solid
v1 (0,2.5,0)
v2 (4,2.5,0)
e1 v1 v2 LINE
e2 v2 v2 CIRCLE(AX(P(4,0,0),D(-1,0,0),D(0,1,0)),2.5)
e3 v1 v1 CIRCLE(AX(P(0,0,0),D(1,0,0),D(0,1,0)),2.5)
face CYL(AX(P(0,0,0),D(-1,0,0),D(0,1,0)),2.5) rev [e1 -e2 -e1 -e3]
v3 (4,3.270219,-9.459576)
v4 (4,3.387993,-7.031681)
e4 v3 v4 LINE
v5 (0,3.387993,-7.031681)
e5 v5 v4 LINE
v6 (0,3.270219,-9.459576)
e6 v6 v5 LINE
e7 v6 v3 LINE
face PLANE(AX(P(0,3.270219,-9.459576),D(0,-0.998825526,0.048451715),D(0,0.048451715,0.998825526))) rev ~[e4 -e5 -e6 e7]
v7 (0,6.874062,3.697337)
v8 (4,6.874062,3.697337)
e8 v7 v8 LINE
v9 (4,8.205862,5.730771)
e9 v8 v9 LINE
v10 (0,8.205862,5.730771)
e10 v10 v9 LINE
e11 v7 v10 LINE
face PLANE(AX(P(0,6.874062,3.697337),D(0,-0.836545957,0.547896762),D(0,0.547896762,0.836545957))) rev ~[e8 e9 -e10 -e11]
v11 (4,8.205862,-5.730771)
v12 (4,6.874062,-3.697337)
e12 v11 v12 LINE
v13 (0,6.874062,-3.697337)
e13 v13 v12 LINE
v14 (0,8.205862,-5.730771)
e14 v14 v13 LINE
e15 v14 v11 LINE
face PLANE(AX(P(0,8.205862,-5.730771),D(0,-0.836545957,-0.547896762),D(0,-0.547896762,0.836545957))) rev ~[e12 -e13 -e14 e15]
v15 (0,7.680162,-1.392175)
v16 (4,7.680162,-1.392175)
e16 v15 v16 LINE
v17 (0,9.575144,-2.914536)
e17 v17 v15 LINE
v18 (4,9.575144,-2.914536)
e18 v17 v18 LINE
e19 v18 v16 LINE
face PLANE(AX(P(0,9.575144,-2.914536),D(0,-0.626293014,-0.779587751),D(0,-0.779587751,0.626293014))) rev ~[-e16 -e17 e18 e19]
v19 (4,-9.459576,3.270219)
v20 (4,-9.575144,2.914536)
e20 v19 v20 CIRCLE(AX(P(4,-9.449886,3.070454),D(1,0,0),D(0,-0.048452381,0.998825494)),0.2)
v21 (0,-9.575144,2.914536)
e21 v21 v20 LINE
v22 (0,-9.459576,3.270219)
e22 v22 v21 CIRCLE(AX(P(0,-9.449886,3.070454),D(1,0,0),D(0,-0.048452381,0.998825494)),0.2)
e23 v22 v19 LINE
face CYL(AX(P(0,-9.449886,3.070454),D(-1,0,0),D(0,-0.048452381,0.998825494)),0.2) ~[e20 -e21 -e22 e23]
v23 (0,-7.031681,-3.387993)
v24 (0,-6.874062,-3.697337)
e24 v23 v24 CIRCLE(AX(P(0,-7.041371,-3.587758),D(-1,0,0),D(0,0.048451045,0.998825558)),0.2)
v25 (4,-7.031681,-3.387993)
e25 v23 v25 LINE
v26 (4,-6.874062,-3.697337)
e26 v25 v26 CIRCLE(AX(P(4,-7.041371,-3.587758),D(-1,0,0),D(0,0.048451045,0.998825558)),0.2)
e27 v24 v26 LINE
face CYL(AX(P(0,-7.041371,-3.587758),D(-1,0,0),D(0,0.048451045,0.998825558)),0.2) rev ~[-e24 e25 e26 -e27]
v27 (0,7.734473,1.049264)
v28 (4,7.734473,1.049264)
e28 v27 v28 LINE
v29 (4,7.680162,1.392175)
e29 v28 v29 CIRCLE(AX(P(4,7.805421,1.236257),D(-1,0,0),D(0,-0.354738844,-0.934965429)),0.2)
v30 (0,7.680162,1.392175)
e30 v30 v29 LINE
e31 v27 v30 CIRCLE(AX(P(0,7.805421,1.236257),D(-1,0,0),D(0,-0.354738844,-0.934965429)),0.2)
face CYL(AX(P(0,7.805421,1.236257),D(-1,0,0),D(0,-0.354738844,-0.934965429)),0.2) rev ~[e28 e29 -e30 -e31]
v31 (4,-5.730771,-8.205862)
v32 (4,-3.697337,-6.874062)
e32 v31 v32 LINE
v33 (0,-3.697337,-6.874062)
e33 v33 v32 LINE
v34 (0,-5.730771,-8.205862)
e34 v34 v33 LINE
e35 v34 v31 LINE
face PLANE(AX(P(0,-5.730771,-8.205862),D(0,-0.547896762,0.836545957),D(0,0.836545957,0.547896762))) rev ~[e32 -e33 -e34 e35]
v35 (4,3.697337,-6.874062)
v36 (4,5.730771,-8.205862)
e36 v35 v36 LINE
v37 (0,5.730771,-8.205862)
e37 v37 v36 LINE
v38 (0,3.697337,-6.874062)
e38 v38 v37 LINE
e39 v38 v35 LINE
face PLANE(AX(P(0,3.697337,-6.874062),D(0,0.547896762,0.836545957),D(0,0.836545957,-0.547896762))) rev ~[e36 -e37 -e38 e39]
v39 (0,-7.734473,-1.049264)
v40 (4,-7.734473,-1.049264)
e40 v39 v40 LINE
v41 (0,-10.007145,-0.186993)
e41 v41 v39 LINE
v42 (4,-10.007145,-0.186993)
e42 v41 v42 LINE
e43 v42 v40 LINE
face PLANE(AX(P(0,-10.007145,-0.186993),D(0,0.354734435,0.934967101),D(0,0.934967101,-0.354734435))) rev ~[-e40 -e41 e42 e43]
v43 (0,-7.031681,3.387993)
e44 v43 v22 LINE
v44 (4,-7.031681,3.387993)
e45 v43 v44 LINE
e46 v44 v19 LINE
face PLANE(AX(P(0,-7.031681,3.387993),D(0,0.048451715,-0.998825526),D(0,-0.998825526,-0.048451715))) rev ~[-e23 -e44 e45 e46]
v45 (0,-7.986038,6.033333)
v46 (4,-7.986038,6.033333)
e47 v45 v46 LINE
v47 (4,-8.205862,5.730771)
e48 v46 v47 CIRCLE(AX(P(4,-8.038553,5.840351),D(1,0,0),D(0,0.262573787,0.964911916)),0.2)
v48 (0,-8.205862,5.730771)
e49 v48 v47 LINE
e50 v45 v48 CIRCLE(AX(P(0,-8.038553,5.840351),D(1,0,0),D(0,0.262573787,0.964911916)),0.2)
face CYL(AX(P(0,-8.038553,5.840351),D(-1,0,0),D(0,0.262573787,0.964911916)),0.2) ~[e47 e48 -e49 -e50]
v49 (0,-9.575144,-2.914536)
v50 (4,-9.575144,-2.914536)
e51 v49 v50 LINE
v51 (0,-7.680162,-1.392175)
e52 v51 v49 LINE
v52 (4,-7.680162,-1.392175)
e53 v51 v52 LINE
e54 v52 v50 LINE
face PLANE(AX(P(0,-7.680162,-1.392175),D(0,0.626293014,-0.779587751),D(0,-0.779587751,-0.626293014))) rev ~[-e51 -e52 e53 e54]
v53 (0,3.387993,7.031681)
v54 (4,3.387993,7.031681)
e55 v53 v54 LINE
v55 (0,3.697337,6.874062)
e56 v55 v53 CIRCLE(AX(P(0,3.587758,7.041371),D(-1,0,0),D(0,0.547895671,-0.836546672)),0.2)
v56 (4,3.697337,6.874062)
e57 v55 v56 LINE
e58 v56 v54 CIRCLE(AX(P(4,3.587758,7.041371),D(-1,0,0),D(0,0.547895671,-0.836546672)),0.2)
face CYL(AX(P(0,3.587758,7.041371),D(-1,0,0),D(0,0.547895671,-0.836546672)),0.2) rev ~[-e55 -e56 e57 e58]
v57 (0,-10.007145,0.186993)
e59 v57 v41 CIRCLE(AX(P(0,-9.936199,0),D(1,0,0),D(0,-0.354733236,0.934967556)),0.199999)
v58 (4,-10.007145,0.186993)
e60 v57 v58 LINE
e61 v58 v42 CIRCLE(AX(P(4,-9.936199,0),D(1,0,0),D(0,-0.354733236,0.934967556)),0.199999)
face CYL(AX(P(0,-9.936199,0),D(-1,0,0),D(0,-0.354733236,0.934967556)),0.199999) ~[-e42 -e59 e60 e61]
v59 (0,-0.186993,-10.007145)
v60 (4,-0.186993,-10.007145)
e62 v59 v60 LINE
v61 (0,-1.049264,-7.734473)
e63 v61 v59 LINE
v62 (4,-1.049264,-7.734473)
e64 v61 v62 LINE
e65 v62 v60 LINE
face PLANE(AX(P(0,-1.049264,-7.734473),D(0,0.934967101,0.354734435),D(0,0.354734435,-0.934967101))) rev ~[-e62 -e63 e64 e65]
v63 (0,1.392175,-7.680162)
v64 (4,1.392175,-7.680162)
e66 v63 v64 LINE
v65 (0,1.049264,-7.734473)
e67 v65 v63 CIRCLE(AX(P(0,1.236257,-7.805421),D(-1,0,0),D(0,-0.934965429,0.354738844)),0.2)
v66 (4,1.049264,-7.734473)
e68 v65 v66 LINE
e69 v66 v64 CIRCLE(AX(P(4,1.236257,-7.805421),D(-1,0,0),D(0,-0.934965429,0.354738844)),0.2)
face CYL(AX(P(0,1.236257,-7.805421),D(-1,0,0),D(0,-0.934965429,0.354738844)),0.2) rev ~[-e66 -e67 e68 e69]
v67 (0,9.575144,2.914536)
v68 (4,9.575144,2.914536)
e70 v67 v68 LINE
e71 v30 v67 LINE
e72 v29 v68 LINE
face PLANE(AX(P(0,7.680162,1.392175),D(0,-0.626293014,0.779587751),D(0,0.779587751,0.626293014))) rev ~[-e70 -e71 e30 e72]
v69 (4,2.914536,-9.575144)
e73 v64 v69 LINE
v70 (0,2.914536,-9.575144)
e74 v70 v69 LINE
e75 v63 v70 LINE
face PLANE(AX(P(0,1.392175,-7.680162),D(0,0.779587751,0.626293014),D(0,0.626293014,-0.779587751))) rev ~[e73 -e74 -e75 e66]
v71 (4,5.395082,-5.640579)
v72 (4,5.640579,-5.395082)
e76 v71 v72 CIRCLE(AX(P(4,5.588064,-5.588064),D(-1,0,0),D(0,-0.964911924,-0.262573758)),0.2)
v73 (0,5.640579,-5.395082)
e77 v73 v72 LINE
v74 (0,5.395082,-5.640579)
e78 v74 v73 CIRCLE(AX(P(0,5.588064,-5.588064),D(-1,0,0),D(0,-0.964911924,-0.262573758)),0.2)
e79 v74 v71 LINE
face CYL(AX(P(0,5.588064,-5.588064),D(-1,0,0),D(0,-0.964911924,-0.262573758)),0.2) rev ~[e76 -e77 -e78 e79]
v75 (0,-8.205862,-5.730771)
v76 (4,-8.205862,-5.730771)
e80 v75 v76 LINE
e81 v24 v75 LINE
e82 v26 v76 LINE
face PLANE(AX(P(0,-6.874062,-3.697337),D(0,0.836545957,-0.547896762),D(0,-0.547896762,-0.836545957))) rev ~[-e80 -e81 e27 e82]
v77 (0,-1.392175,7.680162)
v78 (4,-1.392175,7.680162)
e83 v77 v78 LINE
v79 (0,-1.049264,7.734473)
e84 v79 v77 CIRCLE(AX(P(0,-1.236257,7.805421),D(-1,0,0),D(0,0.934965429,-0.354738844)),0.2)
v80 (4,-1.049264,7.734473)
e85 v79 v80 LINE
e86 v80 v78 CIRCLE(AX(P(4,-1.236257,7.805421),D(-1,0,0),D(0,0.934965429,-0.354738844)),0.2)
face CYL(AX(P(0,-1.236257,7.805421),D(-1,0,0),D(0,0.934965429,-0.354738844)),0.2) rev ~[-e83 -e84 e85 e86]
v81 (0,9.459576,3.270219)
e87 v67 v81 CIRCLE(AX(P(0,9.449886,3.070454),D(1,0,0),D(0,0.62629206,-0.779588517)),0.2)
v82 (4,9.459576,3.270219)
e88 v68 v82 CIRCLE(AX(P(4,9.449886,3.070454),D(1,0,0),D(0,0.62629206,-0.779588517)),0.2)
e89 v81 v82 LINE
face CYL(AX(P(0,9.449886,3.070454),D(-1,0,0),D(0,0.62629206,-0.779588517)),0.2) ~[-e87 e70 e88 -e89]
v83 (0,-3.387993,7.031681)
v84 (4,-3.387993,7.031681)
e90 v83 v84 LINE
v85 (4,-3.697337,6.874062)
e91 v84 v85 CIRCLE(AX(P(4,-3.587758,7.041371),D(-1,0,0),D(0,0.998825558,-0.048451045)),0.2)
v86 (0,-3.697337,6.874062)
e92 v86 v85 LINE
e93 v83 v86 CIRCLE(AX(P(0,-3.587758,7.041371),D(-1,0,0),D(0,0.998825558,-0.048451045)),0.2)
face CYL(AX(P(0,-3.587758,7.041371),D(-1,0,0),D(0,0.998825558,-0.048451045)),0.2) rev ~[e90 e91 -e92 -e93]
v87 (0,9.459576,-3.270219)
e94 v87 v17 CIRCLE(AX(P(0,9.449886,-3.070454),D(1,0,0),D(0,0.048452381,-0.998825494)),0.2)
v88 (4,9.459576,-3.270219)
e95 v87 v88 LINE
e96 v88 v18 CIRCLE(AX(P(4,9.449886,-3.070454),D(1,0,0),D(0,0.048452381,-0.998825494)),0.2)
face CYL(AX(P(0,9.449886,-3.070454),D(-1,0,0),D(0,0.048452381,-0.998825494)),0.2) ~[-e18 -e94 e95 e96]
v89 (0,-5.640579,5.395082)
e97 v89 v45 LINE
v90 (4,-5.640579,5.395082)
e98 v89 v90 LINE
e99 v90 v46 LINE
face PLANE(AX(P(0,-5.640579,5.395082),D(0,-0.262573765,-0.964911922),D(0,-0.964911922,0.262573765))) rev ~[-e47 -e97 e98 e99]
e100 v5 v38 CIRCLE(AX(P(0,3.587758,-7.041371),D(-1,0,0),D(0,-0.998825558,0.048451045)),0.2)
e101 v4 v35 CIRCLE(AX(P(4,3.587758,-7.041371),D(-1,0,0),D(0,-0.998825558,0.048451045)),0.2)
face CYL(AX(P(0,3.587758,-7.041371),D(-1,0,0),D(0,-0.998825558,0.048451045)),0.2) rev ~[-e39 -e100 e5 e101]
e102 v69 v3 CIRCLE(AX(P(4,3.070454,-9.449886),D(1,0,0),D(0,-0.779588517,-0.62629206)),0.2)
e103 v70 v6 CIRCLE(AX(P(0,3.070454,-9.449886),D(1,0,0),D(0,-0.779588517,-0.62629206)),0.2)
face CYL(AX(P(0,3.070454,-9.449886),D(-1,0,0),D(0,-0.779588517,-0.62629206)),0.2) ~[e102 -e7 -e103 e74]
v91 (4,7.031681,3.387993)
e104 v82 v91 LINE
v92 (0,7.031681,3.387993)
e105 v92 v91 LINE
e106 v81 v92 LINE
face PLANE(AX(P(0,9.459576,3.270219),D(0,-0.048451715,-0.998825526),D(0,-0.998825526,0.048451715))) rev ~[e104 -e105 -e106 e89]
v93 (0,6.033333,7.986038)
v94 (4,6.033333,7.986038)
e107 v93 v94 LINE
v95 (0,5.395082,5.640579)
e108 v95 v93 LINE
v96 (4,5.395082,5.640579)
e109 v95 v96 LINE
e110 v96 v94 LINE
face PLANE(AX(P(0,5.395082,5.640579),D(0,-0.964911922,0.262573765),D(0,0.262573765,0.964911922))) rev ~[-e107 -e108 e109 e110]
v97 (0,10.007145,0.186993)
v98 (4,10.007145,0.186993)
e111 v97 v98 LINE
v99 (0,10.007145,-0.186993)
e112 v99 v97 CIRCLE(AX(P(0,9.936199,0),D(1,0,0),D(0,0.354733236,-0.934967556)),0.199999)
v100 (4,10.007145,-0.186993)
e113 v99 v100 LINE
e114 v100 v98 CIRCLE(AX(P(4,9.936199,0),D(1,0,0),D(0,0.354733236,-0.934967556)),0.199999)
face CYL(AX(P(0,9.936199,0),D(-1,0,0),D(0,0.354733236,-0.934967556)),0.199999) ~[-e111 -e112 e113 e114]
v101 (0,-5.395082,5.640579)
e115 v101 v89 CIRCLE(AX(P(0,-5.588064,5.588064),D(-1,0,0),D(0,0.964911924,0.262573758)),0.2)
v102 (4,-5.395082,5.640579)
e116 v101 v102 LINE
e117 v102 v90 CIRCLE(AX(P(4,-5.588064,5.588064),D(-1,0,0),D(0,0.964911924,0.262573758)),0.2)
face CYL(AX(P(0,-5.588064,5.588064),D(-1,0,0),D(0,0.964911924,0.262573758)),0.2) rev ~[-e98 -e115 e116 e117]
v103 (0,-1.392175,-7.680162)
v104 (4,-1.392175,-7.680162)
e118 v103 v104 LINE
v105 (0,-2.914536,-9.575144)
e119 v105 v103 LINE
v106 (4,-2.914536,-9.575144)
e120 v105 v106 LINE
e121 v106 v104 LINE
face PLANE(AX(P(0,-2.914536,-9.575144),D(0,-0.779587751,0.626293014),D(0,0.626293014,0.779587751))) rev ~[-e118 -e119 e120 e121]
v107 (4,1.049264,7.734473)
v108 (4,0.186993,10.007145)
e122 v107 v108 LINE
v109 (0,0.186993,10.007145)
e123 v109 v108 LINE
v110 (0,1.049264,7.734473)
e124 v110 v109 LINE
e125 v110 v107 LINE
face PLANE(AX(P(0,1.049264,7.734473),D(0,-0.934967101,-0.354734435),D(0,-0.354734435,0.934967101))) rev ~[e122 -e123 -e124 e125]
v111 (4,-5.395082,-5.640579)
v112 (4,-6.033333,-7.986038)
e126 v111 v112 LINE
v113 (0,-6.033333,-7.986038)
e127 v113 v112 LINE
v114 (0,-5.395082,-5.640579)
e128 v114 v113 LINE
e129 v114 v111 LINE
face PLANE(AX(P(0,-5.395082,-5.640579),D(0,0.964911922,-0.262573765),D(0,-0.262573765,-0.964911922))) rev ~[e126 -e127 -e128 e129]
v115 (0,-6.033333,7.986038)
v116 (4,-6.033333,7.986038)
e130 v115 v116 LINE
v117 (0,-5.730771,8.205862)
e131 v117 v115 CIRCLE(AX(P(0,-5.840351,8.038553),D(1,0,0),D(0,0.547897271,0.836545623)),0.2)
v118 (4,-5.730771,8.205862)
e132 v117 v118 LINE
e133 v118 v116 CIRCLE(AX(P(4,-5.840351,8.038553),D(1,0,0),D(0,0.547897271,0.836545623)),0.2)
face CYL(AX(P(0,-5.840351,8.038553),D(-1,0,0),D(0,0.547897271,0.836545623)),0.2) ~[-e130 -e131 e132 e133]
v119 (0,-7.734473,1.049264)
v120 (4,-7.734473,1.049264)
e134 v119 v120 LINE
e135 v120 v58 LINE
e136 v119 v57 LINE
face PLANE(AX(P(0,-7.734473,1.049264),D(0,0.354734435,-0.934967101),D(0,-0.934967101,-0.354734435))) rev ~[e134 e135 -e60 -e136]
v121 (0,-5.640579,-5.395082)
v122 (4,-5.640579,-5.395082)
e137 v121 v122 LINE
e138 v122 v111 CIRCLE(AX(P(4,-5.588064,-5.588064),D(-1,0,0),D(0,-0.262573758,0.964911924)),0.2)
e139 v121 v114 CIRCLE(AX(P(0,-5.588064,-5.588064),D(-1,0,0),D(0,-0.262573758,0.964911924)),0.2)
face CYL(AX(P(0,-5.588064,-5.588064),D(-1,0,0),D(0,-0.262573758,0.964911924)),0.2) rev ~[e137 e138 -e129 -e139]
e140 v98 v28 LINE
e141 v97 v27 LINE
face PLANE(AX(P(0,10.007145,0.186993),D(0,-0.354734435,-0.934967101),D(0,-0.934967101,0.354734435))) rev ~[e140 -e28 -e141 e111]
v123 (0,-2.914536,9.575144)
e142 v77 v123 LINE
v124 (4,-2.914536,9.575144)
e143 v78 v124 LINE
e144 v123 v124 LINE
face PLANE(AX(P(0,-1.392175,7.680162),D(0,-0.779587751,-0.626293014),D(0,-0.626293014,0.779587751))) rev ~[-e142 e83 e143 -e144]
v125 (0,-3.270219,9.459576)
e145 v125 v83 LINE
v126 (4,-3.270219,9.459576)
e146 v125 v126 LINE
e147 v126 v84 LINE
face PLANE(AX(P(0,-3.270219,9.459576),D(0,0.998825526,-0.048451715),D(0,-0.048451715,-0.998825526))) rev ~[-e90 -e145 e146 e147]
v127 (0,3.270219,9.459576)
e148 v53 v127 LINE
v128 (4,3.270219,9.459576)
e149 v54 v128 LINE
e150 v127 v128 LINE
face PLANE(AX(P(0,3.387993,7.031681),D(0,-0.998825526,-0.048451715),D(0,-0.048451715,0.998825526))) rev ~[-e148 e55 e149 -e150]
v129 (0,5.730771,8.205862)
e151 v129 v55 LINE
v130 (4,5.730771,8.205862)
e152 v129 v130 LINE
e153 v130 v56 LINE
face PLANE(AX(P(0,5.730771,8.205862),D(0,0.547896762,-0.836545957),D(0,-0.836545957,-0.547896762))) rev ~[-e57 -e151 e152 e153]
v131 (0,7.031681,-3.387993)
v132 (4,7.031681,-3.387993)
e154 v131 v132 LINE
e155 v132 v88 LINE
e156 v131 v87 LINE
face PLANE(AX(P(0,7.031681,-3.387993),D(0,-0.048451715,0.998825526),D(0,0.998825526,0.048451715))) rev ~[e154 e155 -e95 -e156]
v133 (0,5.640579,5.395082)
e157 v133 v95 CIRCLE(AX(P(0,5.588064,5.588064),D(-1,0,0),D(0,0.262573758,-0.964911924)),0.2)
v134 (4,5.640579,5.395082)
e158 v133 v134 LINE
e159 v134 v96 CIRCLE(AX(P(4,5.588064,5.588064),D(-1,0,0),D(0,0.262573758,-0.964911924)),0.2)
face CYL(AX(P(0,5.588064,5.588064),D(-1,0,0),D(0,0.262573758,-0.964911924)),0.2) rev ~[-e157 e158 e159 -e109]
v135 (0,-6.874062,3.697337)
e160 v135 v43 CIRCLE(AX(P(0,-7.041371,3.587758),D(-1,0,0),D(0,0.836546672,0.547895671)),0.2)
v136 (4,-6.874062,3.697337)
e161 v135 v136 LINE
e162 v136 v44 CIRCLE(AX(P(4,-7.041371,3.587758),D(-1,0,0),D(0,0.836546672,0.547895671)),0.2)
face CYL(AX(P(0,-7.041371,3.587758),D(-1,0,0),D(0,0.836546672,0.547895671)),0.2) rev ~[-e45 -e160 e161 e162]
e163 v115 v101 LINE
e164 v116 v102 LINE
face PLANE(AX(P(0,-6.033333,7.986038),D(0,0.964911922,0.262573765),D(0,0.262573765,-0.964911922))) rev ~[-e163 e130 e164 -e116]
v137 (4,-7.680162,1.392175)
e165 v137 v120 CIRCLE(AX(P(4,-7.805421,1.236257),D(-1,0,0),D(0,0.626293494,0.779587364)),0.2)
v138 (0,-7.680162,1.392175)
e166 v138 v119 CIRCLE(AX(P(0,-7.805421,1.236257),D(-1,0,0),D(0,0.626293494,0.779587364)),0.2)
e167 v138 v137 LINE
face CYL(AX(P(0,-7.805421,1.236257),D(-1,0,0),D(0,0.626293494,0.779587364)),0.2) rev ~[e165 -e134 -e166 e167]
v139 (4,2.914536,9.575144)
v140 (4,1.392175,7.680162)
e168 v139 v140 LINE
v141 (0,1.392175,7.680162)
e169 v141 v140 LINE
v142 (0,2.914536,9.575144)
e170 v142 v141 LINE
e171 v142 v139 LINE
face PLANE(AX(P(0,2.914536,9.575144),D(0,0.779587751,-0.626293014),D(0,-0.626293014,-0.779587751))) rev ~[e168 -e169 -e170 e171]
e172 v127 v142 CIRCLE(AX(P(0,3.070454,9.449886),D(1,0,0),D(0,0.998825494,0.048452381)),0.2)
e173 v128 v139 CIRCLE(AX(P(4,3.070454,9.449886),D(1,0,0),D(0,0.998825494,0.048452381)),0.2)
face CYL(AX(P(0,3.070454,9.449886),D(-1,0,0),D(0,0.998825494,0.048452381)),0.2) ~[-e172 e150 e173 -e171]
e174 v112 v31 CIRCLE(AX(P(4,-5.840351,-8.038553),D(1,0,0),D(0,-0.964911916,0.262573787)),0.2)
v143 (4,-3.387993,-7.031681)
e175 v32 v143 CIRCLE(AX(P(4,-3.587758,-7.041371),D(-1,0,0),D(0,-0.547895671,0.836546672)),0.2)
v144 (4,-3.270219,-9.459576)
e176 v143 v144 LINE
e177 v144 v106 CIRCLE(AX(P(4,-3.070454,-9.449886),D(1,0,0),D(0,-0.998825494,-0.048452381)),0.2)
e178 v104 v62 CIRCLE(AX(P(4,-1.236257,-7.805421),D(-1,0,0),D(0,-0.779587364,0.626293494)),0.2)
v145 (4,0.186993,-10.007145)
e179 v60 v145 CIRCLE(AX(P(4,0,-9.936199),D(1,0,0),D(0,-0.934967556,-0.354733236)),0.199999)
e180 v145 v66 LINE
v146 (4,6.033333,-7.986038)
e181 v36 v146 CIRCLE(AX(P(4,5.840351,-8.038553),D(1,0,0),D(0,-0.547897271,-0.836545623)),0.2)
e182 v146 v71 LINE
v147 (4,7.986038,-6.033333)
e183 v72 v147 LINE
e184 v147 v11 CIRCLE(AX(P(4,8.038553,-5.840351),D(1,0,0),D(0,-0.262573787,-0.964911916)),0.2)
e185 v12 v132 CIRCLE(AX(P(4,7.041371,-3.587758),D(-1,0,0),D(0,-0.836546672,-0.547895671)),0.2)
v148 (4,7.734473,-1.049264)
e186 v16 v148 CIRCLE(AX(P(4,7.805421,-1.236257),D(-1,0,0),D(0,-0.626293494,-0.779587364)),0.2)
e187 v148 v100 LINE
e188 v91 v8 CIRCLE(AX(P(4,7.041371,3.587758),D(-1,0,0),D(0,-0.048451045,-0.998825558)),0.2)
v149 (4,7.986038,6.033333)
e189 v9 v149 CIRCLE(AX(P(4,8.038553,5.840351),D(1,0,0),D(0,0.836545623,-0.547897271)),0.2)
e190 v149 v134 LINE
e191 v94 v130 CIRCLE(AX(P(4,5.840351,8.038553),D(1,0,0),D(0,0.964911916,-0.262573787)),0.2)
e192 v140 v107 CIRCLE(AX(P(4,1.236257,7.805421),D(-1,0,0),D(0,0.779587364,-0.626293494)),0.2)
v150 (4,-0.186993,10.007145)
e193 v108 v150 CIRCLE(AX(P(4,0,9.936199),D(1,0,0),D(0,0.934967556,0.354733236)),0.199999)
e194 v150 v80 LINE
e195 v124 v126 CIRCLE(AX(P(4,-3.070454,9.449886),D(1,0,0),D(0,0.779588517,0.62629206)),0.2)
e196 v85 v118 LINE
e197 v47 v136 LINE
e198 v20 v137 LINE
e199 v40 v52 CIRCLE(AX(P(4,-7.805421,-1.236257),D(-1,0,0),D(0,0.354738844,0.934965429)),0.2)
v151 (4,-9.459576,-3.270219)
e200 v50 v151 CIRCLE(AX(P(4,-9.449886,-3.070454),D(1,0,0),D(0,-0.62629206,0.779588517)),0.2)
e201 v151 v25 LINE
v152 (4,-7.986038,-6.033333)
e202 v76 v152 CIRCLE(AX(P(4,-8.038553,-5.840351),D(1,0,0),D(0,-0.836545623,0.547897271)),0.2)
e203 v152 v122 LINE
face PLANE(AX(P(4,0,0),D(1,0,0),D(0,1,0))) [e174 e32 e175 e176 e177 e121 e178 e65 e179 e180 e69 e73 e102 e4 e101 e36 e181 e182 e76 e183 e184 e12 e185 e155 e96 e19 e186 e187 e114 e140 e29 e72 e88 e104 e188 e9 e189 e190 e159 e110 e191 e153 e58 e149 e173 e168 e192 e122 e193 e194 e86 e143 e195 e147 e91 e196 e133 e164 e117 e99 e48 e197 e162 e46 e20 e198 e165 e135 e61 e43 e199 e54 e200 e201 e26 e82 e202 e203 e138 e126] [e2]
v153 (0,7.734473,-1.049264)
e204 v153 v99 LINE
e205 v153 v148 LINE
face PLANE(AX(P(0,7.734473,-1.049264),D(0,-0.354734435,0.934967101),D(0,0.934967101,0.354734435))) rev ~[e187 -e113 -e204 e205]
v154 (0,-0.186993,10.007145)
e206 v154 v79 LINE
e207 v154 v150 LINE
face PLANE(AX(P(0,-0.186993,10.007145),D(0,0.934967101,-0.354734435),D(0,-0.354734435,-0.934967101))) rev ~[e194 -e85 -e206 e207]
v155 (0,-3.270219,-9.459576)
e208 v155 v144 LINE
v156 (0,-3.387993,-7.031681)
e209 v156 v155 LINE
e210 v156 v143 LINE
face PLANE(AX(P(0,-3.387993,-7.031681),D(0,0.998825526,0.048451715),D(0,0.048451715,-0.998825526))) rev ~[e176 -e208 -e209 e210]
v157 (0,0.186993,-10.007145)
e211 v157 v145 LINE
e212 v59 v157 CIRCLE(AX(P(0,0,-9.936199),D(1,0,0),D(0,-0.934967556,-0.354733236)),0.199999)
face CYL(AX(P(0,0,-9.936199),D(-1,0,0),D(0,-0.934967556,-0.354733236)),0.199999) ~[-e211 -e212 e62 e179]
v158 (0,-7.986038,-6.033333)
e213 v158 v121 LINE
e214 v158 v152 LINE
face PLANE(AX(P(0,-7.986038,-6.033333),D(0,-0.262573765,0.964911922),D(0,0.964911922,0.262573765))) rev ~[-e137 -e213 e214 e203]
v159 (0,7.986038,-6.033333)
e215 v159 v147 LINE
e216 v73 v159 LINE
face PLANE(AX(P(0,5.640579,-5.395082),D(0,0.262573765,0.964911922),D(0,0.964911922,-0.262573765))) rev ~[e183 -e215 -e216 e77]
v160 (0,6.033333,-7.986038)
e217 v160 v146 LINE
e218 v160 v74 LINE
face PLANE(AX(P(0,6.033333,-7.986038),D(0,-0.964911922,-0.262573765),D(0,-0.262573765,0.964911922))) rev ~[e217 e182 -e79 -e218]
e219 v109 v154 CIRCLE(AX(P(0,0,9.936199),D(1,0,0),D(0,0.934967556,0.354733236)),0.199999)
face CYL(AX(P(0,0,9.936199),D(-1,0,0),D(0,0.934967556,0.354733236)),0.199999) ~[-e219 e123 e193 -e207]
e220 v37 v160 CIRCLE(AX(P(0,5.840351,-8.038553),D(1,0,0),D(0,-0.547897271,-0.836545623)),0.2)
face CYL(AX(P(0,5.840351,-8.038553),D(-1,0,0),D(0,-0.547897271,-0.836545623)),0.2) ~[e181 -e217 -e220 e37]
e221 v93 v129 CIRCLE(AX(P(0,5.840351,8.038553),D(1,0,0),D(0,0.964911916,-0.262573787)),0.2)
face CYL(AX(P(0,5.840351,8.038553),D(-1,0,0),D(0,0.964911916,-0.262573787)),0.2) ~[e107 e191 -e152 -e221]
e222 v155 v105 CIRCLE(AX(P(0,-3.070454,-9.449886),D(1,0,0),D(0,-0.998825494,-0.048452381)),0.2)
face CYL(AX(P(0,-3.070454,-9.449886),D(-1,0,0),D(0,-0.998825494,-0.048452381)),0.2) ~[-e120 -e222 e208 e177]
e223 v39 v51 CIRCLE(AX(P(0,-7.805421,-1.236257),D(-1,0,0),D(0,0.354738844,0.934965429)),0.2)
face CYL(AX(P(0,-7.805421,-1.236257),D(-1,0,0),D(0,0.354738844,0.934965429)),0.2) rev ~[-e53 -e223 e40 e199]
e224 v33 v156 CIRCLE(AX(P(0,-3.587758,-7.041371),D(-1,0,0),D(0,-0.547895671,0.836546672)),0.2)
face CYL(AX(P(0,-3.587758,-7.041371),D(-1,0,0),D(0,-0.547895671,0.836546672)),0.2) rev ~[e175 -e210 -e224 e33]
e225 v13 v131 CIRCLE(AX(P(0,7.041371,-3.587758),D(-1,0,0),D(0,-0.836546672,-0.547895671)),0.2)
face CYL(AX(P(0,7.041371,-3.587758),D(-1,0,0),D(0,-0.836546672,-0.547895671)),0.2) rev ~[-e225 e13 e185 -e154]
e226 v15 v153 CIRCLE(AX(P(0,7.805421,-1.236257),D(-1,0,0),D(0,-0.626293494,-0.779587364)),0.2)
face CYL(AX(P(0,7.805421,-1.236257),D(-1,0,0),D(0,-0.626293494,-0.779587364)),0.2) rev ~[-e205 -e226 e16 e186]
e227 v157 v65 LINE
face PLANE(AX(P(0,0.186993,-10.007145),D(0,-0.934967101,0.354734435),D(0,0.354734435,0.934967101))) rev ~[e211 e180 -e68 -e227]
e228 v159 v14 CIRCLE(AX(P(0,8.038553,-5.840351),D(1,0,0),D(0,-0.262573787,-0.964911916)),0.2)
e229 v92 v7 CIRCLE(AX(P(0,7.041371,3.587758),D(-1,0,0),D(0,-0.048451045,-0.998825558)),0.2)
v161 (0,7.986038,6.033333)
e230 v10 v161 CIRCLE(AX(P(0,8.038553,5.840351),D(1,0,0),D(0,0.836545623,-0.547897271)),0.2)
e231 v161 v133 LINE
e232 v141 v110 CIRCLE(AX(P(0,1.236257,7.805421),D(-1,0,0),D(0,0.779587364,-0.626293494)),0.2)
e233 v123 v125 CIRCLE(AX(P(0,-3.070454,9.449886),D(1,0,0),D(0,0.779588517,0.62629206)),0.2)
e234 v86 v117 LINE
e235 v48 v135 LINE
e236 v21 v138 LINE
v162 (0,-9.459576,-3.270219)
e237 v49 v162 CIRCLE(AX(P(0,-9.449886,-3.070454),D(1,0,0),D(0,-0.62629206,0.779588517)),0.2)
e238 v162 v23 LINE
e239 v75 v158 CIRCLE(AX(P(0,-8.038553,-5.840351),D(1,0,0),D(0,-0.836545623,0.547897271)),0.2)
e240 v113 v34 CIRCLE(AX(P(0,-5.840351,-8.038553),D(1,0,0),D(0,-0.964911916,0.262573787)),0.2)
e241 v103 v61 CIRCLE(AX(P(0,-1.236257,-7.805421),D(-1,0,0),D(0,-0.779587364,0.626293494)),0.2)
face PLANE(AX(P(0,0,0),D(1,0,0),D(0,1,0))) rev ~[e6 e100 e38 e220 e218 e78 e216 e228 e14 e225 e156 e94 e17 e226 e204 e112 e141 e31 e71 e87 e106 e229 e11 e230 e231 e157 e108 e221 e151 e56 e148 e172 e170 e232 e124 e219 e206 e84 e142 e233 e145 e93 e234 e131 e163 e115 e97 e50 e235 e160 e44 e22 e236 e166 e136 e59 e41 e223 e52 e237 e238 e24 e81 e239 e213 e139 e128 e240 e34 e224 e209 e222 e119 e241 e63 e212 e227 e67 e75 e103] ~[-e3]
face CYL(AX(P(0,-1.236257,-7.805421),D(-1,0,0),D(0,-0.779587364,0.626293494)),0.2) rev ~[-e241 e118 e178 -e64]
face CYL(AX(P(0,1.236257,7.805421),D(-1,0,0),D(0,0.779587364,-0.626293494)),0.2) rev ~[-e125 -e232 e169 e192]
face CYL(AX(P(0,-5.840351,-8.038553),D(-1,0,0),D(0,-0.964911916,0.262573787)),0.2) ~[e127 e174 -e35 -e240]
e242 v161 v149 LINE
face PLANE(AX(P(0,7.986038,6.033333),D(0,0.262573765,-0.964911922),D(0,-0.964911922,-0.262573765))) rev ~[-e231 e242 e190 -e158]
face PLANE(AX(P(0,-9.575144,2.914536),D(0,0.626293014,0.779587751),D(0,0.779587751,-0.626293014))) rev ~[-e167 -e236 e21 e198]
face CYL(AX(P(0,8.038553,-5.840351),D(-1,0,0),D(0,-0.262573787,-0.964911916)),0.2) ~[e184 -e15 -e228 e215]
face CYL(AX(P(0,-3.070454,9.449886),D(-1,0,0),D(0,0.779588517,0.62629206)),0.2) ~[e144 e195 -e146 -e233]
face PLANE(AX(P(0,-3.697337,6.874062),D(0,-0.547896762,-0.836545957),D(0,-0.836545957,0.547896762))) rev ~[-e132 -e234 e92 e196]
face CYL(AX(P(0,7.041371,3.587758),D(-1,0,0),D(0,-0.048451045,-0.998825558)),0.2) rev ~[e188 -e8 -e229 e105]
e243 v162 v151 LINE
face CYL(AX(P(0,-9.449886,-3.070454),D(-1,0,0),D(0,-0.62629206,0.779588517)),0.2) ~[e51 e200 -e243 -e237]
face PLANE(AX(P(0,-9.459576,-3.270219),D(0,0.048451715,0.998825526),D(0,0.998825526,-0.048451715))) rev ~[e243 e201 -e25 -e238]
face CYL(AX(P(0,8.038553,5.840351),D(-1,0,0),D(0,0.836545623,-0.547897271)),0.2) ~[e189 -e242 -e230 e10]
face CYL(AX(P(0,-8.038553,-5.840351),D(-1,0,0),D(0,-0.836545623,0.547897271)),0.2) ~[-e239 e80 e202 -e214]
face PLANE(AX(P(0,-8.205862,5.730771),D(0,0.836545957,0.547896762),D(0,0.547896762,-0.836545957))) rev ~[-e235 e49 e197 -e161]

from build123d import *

# Parameters (mm, degrees)
F1_DEPTH = 4
F2_R     = 2.5
F3_DEPTH = 4.001


with BuildPart() as f1:
    # F0 (on Right) → F1 (new body)
    with BuildSketch(Plane.YZ):
        with BuildLine():
            ThreePointArc((0.186993, 10.007145), (0, 10.136198), (-0.186993, 10.007145))
            Line((-0.186993, 10.007145), (-1.049264, 7.734473))
            ThreePointArc((-1.049264, 7.734473), (-1.20497, 7.607883), (-1.392175, 7.680162))
            Line((-1.392175, 7.680162), (-2.914536, 9.575144))
            ThreePointArc((-2.914536, 9.575144), (-3.132257, 9.640097), (-3.270219, 9.459576))
            Line((-3.270219, 9.459576), (-3.387993, 7.031681))
            ThreePointArc((-3.387993, 7.031681), (-3.49696, 6.86317), (-3.697337, 6.874062))
            Line((-3.697337, 6.874062), (-5.730771, 8.205862))
            ThreePointArc((-5.730771, 8.205862), (-5.957908, 8.200356), (-6.033333, 7.986038))
            Line((-6.033333, 7.986038), (-5.395082, 5.640579))
            ThreePointArc((-5.395082, 5.640579), (-5.446643, 5.446643), (-5.640579, 5.395082))
            Line((-5.640579, 5.395082), (-7.986038, 6.033333))
            ThreePointArc((-7.986038, 6.033333), (-8.200356, 5.957908), (-8.205862, 5.730771))
            Line((-8.205862, 5.730771), (-6.874062, 3.697337))
            ThreePointArc((-6.874062, 3.697337), (-6.86317, 3.49696), (-7.031681, 3.387993))
            Line((-7.031681, 3.387993), (-9.459576, 3.270219))
            ThreePointArc((-9.459576, 3.270219), (-9.640097, 3.132257), (-9.575144, 2.914536))
            Line((-9.575144, 2.914536), (-7.680162, 1.392175))
            ThreePointArc((-7.680162, 1.392175), (-7.607883, 1.20497), (-7.734473, 1.049264))
            Line((-7.734473, 1.049264), (-10.007145, 0.186993))
            ThreePointArc((-10.007145, 0.186993), (-10.136198, 0), (-10.007145, -0.186993))
            Line((-10.007145, -0.186993), (-7.734473, -1.049264))
            ThreePointArc((-7.734473, -1.049264), (-7.607883, -1.20497), (-7.680162, -1.392175))
            Line((-7.680162, -1.392175), (-9.575144, -2.914536))
            ThreePointArc((-9.575144, -2.914536), (-9.640097, -3.132257), (-9.459576, -3.270219))
            Line((-9.459576, -3.270219), (-7.031681, -3.387993))
            ThreePointArc((-7.031681, -3.387993), (-6.86317, -3.49696), (-6.874062, -3.697337))
            Line((-6.874062, -3.697337), (-8.205862, -5.730771))
            ThreePointArc((-8.205862, -5.730771), (-8.200356, -5.957908), (-7.986038, -6.033333))
            Line((-7.986038, -6.033333), (-5.640579, -5.395082))
            ThreePointArc((-5.640579, -5.395082), (-5.446643, -5.446643), (-5.395082, -5.640579))
            Line((-5.395082, -5.640579), (-6.033333, -7.986038))
            ThreePointArc((-6.033333, -7.986038), (-5.957908, -8.200356), (-5.730771, -8.205862))
            Line((-5.730771, -8.205862), (-3.697337, -6.874062))
            ThreePointArc((-3.697337, -6.874062), (-3.49696, -6.86317), (-3.387993, -7.031681))
            Line((-3.387993, -7.031681), (-3.270219, -9.459576))
            ThreePointArc((-3.270219, -9.459576), (-3.132257, -9.640097), (-2.914536, -9.575144))
            Line((-2.914536, -9.575144), (-1.392175, -7.680162))
            ThreePointArc((-1.392175, -7.680162), (-1.20497, -7.607883), (-1.049264, -7.734473))
            Line((-1.049264, -7.734473), (-0.186993, -10.007145))
            ThreePointArc((-0.186993, -10.007145), (0, -10.136198), (0.186993, -10.007145))
            Line((0.186993, -10.007145), (1.049264, -7.734473))
            ThreePointArc((1.049264, -7.734473), (1.20497, -7.607883), (1.392175, -7.680162))
            Line((1.392175, -7.680162), (2.914536, -9.575144))
            ThreePointArc((2.914536, -9.575144), (3.132257, -9.640097), (3.270219, -9.459576))
            Line((3.270219, -9.459576), (3.387993, -7.031681))
            ThreePointArc((3.387993, -7.031681), (3.49696, -6.86317), (3.697337, -6.874062))
            Line((3.697337, -6.874062), (5.730771, -8.205862))
            ThreePointArc((5.730771, -8.205862), (5.957908, -8.200356), (6.033333, -7.986038))
            Line((6.033333, -7.986038), (5.395082, -5.640579))
            ThreePointArc((5.395082, -5.640579), (5.446643, -5.446643), (5.640579, -5.395082))
            Line((5.640579, -5.395082), (7.986038, -6.033333))
            ThreePointArc((7.986038, -6.033333), (8.200356, -5.957908), (8.205862, -5.730771))
            Line((8.205862, -5.730771), (6.874062, -3.697337))
            ThreePointArc((6.874062, -3.697337), (6.86317, -3.49696), (7.031681, -3.387993))
            Line((7.031681, -3.387993), (9.459576, -3.270219))
            ThreePointArc((9.459576, -3.270219), (9.640097, -3.132257), (9.575144, -2.914536))
            Line((9.575144, -2.914536), (7.680162, -1.392175))
            ThreePointArc((7.680162, -1.392175), (7.607883, -1.20497), (7.734473, -1.049264))
            Line((7.734473, -1.049264), (10.007145, -0.186993))
            ThreePointArc((10.007145, -0.186993), (10.136198, 0), (10.007145, 0.186993))
            Line((10.007145, 0.186993), (7.734473, 1.049264))
            ThreePointArc((7.734473, 1.049264), (7.607883, 1.20497), (7.680162, 1.392175))
            Line((7.680162, 1.392175), (9.575144, 2.914536))
            ThreePointArc((9.575144, 2.914536), (9.640097, 3.132257), (9.459576, 3.270219))
            Line((9.459576, 3.270219), (7.031681, 3.387993))
            ThreePointArc((7.031681, 3.387993), (6.86317, 3.49696), (6.874062, 3.697337))
            Line((6.874062, 3.697337), (8.205862, 5.730771))
            ThreePointArc((8.205862, 5.730771), (8.200356, 5.957908), (7.986038, 6.033333))
            Line((7.986038, 6.033333), (5.640579, 5.395082))
            ThreePointArc((5.640579, 5.395082), (5.446643, 5.446643), (5.395082, 5.640579))
            Line((5.395082, 5.640579), (6.033333, 7.986038))
            ThreePointArc((6.033333, 7.986038), (5.957908, 8.200356), (5.730771, 8.205862))
            Line((5.730771, 8.205862), (3.697337, 6.874062))
            ThreePointArc((3.697337, 6.874062), (3.49696, 6.86317), (3.387993, 7.031681))
            Line((3.387993, 7.031681), (3.270219, 9.459576))
            ThreePointArc((3.270219, 9.459576), (3.132257, 9.640097), (2.914536, 9.575144))
            Line((2.914536, 9.575144), (1.392175, 7.680162))
            ThreePointArc((1.392175, 7.680162), (1.20497, 7.607883), (1.049264, 7.734473))
            Line((1.049264, 7.734473), (0.186993, 10.007145))
        make_face()
    extrude(amount=F1_DEPTH)

    # F2 (on Right) → F3 (cut, through all)
    with BuildSketch(Plane.YZ):
        Circle(F2_R)
    extrude(amount=F3_DEPTH, mode=Mode.SUBTRACT)


solid = f1.part
